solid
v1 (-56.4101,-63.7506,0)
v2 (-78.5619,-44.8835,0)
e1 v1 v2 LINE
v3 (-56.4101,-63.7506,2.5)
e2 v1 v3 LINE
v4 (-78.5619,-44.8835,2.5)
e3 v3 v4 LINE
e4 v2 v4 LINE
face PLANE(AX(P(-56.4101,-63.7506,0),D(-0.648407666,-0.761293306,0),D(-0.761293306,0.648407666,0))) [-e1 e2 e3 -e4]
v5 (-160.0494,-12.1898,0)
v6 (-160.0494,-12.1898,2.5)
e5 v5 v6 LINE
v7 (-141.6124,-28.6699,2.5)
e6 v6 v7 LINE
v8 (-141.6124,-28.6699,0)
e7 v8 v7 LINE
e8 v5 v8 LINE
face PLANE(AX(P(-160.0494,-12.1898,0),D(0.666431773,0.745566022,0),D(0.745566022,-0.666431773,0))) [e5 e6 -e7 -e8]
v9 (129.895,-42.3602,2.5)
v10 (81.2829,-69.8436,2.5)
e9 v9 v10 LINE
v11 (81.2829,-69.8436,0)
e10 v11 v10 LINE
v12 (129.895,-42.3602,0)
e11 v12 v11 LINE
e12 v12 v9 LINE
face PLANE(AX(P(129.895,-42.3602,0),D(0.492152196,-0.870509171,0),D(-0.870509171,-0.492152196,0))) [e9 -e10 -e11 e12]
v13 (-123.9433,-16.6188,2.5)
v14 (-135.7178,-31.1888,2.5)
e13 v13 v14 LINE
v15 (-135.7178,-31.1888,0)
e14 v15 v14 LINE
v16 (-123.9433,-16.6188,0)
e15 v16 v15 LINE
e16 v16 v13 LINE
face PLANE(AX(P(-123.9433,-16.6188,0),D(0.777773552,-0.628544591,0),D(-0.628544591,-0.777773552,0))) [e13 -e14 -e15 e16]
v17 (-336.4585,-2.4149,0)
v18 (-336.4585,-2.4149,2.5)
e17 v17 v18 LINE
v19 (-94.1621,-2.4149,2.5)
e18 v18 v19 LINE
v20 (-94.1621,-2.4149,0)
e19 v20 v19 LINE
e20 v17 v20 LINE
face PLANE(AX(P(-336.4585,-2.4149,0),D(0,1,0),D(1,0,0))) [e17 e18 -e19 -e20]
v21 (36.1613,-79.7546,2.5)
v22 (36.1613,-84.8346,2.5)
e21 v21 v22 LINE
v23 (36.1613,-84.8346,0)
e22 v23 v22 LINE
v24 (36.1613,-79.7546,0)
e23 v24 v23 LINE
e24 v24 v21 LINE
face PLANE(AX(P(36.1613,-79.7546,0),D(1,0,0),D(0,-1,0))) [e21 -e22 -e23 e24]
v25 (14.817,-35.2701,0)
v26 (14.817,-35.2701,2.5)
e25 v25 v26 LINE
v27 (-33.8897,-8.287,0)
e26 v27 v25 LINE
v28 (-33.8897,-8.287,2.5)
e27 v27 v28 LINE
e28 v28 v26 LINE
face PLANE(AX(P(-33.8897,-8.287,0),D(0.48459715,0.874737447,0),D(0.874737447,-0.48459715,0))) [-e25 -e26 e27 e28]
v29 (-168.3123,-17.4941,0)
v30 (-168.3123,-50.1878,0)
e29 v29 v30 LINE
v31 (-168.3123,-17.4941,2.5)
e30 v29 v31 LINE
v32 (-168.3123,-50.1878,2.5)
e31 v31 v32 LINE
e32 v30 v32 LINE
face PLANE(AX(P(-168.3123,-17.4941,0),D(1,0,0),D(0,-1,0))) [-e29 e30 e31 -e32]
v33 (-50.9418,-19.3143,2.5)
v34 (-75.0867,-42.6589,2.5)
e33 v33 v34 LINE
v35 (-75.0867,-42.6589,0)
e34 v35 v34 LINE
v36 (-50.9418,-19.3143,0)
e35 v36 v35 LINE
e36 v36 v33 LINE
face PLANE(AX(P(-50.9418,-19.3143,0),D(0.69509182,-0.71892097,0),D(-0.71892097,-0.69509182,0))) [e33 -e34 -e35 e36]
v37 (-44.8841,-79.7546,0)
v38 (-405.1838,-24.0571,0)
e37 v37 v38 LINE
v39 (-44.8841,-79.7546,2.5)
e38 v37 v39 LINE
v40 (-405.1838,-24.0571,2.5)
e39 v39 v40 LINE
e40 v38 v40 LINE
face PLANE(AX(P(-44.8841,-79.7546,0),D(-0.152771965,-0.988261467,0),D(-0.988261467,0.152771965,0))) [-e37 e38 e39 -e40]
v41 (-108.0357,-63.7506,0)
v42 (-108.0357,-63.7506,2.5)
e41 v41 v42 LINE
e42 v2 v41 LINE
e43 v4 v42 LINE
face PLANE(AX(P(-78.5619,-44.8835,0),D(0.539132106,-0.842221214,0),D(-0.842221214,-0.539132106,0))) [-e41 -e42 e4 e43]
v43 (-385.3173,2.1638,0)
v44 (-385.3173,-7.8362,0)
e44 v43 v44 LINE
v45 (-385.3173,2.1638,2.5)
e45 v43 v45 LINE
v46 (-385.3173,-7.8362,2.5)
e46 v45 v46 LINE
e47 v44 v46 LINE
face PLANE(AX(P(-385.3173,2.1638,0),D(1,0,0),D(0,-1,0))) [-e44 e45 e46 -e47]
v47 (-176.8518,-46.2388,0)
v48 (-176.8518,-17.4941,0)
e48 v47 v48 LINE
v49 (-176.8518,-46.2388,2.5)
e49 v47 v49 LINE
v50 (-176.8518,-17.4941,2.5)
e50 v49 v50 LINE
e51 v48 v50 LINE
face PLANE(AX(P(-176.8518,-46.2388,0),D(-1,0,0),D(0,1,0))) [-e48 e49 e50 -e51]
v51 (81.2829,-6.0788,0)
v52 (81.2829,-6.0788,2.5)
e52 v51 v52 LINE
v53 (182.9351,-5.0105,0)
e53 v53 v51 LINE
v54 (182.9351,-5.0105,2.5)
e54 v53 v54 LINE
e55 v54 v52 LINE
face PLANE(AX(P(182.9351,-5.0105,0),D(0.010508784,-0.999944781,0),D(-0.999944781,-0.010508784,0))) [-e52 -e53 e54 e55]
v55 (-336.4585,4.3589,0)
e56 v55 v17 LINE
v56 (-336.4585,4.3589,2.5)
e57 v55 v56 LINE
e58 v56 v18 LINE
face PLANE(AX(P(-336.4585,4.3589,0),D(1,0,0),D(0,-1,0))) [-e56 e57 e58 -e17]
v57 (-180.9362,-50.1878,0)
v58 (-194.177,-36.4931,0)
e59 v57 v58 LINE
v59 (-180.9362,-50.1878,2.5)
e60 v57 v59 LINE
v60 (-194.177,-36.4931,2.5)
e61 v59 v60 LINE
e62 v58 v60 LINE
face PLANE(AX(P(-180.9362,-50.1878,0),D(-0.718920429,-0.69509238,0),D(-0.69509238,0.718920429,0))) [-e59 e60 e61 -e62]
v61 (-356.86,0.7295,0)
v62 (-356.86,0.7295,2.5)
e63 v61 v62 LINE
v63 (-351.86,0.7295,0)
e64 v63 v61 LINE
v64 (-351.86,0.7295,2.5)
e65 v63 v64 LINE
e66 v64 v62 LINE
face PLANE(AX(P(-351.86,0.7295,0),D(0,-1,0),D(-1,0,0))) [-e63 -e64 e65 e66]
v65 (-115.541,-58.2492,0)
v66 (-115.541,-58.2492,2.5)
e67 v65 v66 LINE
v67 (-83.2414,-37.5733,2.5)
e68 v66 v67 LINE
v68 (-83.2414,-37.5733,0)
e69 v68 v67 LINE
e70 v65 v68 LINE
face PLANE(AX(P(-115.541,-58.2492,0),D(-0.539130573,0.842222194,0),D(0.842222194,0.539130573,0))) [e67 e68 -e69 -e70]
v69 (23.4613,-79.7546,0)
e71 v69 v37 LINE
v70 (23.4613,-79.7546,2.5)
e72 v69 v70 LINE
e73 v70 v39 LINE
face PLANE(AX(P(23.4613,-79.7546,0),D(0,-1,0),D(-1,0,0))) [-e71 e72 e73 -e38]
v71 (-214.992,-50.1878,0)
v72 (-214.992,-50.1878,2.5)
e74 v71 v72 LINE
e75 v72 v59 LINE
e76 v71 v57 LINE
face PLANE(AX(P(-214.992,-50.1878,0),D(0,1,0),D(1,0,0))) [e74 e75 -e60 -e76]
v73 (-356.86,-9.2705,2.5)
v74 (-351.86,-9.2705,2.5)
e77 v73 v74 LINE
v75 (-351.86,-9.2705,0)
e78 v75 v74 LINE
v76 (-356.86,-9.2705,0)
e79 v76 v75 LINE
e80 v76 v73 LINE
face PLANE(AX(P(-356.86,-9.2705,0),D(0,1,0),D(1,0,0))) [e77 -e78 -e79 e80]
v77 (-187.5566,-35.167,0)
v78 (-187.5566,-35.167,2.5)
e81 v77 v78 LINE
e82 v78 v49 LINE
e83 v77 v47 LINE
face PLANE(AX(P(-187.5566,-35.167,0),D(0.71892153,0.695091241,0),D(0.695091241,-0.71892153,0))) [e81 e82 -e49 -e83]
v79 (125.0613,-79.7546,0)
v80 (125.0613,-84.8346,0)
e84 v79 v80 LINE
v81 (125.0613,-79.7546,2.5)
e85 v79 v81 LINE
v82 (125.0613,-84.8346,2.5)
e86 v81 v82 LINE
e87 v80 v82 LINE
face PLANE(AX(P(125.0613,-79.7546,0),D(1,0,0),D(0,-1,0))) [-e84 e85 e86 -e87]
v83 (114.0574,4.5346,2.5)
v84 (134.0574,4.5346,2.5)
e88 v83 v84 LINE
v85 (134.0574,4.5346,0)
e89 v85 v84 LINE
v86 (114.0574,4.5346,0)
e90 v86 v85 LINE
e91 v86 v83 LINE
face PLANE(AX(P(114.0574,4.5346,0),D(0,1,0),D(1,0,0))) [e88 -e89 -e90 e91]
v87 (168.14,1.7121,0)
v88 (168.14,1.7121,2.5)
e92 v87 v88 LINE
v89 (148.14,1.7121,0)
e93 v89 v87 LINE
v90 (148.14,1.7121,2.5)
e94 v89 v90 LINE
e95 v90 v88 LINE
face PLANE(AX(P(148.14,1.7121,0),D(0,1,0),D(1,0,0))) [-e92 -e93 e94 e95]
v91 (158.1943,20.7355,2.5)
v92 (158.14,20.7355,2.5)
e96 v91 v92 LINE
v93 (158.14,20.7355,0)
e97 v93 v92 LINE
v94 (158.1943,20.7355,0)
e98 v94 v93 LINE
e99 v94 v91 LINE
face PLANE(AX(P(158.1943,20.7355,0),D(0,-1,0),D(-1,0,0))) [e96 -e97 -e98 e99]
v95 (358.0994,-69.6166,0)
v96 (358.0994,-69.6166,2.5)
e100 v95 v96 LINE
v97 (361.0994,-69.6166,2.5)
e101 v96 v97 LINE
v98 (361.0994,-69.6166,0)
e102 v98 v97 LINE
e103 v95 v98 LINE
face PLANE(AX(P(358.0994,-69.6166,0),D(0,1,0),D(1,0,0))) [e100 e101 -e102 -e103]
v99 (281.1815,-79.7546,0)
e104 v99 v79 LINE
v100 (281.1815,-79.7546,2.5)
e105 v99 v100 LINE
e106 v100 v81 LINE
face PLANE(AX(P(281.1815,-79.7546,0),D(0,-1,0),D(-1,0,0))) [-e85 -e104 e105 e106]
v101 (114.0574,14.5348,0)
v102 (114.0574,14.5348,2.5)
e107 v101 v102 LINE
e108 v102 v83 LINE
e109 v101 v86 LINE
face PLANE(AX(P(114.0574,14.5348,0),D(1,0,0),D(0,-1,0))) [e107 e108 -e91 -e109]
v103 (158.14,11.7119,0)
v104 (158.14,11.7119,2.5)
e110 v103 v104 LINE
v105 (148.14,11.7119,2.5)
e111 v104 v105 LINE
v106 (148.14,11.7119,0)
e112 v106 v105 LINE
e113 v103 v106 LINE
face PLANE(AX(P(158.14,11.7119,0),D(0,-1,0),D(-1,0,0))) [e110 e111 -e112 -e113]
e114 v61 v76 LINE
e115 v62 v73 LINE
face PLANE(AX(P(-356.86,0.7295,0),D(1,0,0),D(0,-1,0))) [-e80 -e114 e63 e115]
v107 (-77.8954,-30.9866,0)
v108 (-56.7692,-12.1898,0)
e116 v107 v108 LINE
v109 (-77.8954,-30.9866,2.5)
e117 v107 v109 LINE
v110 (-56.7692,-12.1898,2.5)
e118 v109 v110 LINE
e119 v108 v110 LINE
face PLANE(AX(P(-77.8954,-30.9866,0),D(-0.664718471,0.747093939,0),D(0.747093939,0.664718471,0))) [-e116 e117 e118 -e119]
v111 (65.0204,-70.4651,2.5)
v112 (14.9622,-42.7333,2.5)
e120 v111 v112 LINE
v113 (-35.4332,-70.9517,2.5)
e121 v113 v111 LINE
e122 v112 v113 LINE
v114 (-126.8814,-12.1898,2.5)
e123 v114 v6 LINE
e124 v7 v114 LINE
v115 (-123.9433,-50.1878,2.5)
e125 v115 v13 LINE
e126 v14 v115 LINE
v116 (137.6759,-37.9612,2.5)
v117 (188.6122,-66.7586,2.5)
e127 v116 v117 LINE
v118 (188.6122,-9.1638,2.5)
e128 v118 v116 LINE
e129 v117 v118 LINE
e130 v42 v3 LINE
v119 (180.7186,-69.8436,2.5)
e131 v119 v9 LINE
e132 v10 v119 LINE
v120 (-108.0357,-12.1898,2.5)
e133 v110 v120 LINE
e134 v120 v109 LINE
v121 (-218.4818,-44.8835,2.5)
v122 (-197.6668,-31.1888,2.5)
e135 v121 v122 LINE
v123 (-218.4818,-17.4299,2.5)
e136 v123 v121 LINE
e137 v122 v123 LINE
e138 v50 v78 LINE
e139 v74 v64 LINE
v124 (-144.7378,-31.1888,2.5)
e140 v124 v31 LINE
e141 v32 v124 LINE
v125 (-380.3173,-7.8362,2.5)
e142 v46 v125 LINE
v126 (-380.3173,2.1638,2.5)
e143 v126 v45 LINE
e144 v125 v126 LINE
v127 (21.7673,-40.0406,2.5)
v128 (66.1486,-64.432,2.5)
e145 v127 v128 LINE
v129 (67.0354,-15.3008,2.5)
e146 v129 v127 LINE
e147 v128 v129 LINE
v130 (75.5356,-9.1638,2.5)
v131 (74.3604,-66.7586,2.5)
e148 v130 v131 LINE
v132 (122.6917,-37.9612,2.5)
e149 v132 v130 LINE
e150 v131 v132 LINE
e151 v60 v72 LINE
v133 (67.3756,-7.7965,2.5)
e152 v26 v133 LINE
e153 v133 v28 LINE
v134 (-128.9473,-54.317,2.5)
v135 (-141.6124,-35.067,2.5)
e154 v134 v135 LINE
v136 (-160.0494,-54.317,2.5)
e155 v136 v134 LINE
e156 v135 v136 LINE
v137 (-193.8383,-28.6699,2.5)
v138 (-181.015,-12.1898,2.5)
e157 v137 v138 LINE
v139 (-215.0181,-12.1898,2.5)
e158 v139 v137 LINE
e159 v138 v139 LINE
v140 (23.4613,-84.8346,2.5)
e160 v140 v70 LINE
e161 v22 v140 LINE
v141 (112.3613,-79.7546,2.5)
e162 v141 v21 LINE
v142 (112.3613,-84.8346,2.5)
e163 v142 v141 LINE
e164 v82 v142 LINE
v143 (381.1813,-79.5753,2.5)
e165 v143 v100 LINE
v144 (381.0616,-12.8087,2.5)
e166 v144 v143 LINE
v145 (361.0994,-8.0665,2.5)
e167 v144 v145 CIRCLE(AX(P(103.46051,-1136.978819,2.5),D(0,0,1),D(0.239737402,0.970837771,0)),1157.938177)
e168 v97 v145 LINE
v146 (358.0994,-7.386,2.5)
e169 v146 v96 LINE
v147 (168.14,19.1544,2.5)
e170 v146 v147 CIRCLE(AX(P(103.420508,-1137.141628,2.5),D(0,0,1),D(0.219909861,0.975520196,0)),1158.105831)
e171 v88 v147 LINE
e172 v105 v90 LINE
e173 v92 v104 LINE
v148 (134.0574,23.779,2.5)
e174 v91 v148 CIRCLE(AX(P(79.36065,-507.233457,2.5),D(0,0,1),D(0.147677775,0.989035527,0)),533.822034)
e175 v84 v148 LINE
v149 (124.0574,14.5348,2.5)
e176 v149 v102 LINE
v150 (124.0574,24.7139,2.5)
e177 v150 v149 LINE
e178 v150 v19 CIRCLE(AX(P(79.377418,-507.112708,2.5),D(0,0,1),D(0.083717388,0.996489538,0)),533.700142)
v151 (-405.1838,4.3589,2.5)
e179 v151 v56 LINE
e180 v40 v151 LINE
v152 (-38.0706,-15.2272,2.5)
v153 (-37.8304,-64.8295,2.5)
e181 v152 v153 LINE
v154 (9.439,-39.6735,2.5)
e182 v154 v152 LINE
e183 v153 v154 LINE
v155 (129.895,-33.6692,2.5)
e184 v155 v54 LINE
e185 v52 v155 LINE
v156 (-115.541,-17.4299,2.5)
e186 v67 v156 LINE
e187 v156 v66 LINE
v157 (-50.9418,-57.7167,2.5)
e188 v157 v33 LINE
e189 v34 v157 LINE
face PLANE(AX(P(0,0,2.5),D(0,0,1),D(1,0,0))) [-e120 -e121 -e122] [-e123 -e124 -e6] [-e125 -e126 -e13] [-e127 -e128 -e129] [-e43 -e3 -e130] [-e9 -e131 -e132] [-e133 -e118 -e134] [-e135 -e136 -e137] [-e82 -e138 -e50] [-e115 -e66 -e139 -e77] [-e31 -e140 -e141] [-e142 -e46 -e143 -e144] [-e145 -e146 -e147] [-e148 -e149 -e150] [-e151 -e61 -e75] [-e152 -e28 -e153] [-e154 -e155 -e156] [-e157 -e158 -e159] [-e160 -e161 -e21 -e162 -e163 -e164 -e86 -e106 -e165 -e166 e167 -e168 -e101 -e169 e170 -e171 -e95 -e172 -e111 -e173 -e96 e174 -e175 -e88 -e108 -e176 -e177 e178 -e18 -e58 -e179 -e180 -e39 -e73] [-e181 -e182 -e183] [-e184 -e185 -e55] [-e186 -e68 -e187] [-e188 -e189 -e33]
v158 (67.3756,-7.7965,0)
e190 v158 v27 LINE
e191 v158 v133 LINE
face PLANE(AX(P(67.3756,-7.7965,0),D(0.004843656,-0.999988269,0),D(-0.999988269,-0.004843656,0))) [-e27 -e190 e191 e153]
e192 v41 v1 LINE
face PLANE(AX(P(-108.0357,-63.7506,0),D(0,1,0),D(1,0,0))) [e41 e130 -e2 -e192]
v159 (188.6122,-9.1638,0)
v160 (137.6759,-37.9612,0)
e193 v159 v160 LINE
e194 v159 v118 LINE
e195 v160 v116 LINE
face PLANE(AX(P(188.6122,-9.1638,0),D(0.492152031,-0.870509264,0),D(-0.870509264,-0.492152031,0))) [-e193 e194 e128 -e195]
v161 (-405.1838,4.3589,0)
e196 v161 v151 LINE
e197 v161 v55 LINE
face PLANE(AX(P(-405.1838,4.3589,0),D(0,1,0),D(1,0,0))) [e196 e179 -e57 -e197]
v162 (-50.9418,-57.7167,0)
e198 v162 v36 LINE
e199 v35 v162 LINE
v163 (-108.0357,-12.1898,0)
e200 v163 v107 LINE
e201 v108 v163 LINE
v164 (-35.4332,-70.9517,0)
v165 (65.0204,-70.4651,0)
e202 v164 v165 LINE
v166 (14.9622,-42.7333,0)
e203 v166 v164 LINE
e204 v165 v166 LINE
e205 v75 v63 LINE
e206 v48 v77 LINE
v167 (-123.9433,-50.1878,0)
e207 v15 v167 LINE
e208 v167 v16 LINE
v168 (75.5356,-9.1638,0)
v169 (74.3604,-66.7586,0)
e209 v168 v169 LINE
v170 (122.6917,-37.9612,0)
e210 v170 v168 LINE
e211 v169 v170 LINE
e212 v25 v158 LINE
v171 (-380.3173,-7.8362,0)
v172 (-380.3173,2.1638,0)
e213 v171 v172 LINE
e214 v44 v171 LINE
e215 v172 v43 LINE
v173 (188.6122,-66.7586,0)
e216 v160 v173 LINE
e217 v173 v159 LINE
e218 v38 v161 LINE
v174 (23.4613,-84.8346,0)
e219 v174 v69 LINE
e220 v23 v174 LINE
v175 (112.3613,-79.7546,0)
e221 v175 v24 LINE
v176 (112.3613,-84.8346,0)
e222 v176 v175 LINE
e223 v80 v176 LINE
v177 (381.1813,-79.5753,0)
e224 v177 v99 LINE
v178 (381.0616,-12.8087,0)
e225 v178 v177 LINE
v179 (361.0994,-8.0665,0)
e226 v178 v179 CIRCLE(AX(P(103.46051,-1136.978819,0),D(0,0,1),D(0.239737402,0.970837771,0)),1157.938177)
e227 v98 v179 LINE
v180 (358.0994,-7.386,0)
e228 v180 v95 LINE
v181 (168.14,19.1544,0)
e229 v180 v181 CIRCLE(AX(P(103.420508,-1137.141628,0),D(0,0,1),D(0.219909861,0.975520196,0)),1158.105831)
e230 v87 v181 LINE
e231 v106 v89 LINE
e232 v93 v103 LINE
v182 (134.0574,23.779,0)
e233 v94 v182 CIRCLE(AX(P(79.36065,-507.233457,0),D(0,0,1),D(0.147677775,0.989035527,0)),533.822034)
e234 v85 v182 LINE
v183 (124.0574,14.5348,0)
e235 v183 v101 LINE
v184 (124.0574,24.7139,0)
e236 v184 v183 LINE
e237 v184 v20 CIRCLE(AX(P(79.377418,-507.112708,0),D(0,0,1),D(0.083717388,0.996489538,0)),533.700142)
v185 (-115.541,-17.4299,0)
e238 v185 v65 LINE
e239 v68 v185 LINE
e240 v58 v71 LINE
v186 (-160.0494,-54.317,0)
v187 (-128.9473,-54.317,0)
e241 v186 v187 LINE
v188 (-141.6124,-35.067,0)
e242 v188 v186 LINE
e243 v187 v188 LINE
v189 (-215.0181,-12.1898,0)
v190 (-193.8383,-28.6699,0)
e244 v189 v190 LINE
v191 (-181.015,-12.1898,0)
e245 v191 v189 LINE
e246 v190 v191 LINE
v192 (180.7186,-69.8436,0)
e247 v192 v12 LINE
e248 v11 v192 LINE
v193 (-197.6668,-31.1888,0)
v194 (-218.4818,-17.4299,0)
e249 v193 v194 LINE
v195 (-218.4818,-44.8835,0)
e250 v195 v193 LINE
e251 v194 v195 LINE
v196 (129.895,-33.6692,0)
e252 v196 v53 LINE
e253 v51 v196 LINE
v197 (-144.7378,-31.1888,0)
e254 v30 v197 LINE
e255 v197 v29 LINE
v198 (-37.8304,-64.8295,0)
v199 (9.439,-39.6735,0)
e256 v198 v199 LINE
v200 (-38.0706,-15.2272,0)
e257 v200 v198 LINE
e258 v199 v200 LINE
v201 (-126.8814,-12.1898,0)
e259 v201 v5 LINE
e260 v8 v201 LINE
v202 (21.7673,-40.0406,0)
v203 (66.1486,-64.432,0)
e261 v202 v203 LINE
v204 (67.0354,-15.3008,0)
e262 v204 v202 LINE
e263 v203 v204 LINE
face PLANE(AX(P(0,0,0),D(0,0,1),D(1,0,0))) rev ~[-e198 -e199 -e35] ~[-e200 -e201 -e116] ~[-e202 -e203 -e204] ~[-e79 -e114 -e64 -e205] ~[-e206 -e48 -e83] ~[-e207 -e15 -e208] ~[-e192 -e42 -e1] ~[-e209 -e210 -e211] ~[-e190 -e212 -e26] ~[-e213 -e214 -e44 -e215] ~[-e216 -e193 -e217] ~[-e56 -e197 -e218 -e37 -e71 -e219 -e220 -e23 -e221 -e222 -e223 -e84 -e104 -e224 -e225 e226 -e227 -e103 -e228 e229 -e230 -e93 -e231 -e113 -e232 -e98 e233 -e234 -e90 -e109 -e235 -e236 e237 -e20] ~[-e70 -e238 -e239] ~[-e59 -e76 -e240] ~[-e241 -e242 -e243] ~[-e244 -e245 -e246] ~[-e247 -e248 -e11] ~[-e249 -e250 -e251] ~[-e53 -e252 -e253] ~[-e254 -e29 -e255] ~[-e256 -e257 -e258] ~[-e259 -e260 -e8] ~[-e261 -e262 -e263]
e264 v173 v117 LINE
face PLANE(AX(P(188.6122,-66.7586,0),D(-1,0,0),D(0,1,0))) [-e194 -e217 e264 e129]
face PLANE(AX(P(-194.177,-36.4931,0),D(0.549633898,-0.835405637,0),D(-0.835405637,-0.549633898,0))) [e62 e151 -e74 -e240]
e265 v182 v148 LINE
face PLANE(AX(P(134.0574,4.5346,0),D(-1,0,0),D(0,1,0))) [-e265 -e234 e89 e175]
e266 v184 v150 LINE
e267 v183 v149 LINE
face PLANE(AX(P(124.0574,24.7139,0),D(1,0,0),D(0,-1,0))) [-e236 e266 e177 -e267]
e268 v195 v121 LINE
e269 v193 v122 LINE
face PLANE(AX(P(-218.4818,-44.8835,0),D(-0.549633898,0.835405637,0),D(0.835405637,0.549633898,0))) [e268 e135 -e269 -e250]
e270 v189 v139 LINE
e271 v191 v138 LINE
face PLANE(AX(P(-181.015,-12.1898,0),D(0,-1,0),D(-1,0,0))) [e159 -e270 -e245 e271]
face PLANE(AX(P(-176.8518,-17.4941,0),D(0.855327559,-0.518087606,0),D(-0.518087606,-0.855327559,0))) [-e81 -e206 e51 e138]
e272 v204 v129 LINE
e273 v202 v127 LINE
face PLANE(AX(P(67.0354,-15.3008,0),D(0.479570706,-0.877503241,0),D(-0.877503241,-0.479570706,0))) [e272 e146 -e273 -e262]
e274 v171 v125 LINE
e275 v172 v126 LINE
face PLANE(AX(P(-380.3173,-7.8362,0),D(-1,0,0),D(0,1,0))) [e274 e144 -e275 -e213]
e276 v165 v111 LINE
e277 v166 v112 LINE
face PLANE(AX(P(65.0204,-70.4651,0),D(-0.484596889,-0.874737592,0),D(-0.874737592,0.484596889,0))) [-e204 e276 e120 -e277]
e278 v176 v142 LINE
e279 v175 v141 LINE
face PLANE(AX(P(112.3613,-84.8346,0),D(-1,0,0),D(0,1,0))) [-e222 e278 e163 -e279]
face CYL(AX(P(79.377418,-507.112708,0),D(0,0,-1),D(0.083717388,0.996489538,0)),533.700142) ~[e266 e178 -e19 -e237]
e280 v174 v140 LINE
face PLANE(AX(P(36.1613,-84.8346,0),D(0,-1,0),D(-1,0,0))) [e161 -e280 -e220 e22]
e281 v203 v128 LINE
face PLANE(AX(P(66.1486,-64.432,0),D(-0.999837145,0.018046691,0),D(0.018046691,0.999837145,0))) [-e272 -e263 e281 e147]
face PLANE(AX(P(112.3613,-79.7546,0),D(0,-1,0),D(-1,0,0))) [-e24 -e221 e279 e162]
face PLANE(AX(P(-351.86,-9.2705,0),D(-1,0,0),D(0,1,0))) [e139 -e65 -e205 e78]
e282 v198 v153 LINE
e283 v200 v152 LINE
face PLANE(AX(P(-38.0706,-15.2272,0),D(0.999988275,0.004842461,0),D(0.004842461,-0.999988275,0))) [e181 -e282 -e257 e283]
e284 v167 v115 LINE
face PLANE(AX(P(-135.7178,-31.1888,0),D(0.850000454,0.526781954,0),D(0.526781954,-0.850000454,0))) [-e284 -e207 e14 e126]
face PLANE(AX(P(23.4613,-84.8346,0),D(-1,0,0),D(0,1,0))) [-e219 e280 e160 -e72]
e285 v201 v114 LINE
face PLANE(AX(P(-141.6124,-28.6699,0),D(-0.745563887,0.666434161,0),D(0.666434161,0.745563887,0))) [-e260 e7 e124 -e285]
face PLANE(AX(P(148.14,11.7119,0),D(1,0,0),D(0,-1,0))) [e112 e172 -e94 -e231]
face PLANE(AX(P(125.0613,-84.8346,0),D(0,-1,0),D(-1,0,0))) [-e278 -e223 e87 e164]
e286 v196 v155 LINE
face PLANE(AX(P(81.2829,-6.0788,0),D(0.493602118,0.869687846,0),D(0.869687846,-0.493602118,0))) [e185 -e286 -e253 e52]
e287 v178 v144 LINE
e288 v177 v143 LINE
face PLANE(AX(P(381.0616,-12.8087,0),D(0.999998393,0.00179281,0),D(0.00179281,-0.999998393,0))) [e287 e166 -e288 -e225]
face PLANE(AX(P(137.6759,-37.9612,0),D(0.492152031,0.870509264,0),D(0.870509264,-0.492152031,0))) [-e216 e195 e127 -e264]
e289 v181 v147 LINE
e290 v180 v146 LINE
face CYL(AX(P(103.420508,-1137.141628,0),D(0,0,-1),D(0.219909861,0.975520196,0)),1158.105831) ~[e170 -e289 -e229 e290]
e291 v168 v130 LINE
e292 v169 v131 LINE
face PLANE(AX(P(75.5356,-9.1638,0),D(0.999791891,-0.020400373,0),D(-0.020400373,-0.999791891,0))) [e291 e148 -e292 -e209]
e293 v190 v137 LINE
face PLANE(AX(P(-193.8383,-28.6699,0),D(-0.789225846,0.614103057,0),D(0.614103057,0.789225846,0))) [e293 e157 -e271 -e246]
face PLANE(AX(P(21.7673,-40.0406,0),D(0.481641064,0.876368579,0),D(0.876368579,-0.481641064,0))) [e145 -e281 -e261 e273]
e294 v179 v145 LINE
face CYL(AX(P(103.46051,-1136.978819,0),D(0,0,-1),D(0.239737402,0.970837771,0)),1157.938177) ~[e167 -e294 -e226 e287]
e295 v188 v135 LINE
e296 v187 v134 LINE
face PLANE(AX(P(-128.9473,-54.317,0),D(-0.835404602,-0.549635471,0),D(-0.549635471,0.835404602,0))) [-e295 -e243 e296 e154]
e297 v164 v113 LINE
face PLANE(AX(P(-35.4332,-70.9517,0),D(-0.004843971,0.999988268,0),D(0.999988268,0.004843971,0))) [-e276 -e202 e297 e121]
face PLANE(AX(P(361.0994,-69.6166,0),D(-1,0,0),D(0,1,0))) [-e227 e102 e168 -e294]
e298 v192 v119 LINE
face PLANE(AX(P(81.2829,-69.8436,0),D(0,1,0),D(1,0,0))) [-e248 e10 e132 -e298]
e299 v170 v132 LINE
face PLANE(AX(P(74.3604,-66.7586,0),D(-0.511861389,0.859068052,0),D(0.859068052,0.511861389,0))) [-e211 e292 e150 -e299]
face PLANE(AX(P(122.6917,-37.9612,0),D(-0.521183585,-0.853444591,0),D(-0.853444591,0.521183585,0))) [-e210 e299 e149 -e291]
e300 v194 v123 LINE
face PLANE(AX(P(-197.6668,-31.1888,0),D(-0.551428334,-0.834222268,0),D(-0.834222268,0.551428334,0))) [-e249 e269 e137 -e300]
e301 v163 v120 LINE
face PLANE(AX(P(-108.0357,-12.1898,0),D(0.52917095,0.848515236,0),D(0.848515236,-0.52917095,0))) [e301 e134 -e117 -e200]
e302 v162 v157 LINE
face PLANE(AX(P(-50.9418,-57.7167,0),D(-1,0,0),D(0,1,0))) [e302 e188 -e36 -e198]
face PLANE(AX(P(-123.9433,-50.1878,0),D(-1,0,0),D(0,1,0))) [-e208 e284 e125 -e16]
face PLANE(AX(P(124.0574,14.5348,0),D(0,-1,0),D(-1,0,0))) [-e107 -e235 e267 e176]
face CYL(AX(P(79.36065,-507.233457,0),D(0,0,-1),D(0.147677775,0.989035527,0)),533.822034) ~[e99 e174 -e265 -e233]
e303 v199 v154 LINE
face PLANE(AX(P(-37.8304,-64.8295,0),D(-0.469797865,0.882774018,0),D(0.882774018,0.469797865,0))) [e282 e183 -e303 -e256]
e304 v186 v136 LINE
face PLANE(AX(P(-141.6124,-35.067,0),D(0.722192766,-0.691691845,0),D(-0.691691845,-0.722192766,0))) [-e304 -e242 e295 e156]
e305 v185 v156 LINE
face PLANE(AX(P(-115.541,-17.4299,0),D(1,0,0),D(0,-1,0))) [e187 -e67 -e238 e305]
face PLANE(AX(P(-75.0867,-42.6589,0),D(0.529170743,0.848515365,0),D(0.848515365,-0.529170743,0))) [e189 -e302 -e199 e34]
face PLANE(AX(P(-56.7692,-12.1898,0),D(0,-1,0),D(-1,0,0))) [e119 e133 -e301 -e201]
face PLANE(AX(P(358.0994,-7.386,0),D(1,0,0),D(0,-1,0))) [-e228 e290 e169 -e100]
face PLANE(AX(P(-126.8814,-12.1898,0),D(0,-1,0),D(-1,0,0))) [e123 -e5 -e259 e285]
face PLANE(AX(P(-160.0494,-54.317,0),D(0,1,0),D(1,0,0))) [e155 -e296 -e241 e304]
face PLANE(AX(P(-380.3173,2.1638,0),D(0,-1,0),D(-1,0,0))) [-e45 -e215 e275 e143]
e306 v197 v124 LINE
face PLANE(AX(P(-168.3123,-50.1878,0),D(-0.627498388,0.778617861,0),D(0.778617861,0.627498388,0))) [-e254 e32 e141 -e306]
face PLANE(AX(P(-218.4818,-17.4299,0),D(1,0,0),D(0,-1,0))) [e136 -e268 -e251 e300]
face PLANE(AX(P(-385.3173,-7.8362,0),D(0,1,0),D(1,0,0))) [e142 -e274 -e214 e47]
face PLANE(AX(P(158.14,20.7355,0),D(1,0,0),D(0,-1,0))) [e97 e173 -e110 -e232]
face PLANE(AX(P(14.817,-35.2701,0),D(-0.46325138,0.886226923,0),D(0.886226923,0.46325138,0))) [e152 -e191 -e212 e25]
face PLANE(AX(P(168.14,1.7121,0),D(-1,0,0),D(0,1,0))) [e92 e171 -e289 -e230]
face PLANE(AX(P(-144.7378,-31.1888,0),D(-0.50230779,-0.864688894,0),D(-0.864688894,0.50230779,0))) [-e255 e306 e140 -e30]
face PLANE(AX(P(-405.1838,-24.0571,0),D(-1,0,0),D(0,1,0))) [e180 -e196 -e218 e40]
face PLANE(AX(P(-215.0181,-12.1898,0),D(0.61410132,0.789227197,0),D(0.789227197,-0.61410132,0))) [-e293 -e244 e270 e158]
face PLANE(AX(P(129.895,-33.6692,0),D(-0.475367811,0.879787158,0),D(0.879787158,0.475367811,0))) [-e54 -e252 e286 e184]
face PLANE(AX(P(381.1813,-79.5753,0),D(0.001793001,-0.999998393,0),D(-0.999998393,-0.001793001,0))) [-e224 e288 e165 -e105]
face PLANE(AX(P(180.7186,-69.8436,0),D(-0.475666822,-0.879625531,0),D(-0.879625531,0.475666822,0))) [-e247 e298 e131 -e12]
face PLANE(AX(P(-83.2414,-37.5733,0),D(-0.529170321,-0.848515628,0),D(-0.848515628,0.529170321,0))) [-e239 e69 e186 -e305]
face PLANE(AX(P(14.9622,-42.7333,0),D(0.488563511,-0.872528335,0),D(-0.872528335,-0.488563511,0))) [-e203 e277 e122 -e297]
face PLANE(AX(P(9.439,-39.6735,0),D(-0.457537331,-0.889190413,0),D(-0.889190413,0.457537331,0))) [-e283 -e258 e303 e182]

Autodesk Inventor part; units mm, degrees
ref_plane "YZ Plane" through (0, 0, 0) normal (1, 0, 0) x (0, 1, 0)
ref_plane "XZ Plane" through (0, 0, 0) normal (0, 1, 0) x (-1, 0, 0)
ref_plane "XY Plane" through (0, 0, 0) normal (0, 0, 1) x (1, 0, 0)
sketch "Sketch1" plane through (0, 0, 0) normal (0, 0, 1) x (1, 0, 0)
  line L0 (124.0574, 14.5348) -> (114.0574, 14.5348)
  line L1 (114.0574, 14.5348) -> (114.0574, 4.5346)
  line L2 (114.0574, 4.5346) -> (134.0574, 4.5346)
  line L3 (134.0574, 4.5346) -> (134.0574, 23.779)
  arc A0 (158.1943, 20.7355) -> (134.0574, 23.779) centre (79.3774, -507.1118) ccw
  line L4 (158.1943, 20.7355) -> (158.14, 20.7355)
  line L5 (158.14, 20.7355) -> (158.14, 11.7119)
  line L6 (158.14, 11.7119) -> (148.14, 11.7119)
  line L7 (148.14, 11.7119) -> (148.14, 1.7121)
  line L8 (148.14, 1.7121) -> (168.14, 1.7121)
  line L9 (168.14, 1.7121) -> (168.14, 19.1544)
  arc A1 (358.0994, -7.386) -> (168.14, 19.1544) centre (103.4188, -1137.151) ccw
  line L10 (358.0994, -7.386) -> (358.0994, -69.6166)
  line L11 (358.0994, -69.6166) -> (361.0994, -69.6166)
  line L12 (361.0994, -69.6166) -> (361.0994, -8.0665)
  arc A2 (381.0616, -12.8087) -> (361.0994, -8.0665) centre (103.4188, -1137.151) ccw
  line L13 (381.0616, -12.8087) -> (381.1813, -79.5753)
  line L14 (381.1813, -79.5753) -> (281.1815, -79.7546)
  line L15 (281.1815, -79.7546) -> (125.0613, -79.7546)
  line L16 (125.0613, -79.7546) -> (125.0613, -84.8346)
  line L17 (125.0613, -84.8346) -> (112.3613, -84.8346)
  line L18 (112.3613, -84.8346) -> (112.3613, -79.7546)
  line L19 (112.3613, -79.7546) -> (36.1613, -79.7546)
  line L20 (36.1613, -79.7546) -> (36.1613, -84.8346)
  line L21 (36.1613, -84.8346) -> (23.4613, -84.8346)
  line L22 (23.4613, -84.8346) -> (23.4613, -79.7546)
  line L23 (23.4613, -79.7546) -> (-44.8841, -79.7546)
  line L24 (-44.8841, -79.7546) -> (-405.1838, -24.0571)
  line L25 (-405.1838, -24.0571) -> (-405.1838, 4.3589)
  line L26 (-405.1838, 4.3589) -> (-336.4585, 4.3589)
  line L27 (-336.4585, 4.3589) -> (-336.4585, -2.4149)
  line L28 (-336.4585, -2.4149) -> (-94.1621, -2.4149)
  arc A3 (124.0574, 24.7139) -> (-94.1621, -2.4149) centre (79.3774, -507.1118) ccw
  line L29 (124.0574, 24.7139) -> (124.0574, 14.5348)
  line L30 (-197.6668, -31.1888) -> (-218.4818, -17.4299)
  line L31 (-218.4818, -17.4299) -> (-218.4818, -44.8835)
  line L32 (-218.4818, -44.8835) -> (-197.6668, -31.1888)
  line L33 (-215.0181, -12.1898) -> (-193.8383, -28.6699)
  line L34 (-193.8383, -28.6699) -> (-181.015, -12.1898)
  line L35 (-181.015, -12.1898) -> (-215.0181, -12.1898)
  line L36 (-187.5566, -35.167) -> (-176.8518, -46.2388)
  line L37 (-176.8518, -46.2388) -> (-176.8518, -17.4941)
  line L38 (-176.8518, -17.4941) -> (-187.5566, -35.167)
  line L39 (-214.992, -50.1878) -> (-180.9362, -50.1878)
  line L40 (-180.9362, -50.1878) -> (-194.177, -36.4931)
  line L41 (-194.177, -36.4931) -> (-214.992, -50.1878)
  line L42 (-168.3123, -50.1878) -> (-144.7378, -31.1888)
  line L43 (-144.7378, -31.1888) -> (-168.3123, -17.4941)
  line L44 (-168.3123, -17.4941) -> (-168.3123, -50.1878)
  line L45 (-160.0494, -12.1898) -> (-141.6124, -28.6699)
  line L46 (-141.6124, -28.6699) -> (-126.8814, -12.1898)
  line L47 (-126.8814, -12.1898) -> (-160.0494, -12.1898)
  line L48 (-160.0494, -54.317) -> (-128.9473, -54.317)
  line L49 (-128.9473, -54.317) -> (-141.6124, -35.067)
  line L50 (-141.6124, -35.067) -> (-160.0494, -54.317)
  line L51 (-123.9433, -50.1878) -> (-123.9433, -16.6188)
  line L52 (-123.9433, -50.1878) -> (-123.9433, -16.6188)
  line L53 (-123.9433, -16.6188) -> (-135.7178, -31.1888)
  line L54 (-135.7178, -31.1888) -> (-123.9433, -50.1878)
  line L55 (-83.2414, -37.5733) -> (-115.541, -17.4299)
  line L56 (-115.541, -17.4299) -> (-115.541, -58.2492)
  line L57 (-115.541, -58.2492) -> (-83.2414, -37.5733)
  line L58 (-108.0357, -12.1898) -> (-77.8954, -30.9866)
  line L59 (-77.8954, -30.9866) -> (-56.7692, -12.1898)
  line L60 (-56.7692, -12.1898) -> (-108.0357, -12.1898)
  line L61 (-75.0867, -42.6589) -> (-50.9418, -57.7167)
  line L62 (-50.9418, -57.7167) -> (-50.9418, -19.3143)
  line L63 (-50.9418, -19.3143) -> (-75.0867, -42.6589)
  line L64 (-108.0357, -63.7506) -> (-56.4101, -63.7506)
  line L65 (-56.4101, -63.7506) -> (-78.5619, -44.8835)
  line L66 (-78.5619, -44.8835) -> (-108.0357, -63.7506)
  line L67 (-37.8304, -64.8295) -> (9.439, -39.6735)
  line L68 (9.439, -39.6735) -> (-38.0706, -15.2272)
  line L69 (-38.0706, -15.2272) -> (-37.8304, -64.8295)
  line L70 (67.3756, -7.7965) -> (-33.8897, -8.287)
  line L71 (-33.8897, -8.287) -> (14.817, -35.2701)
  line L72 (14.817, -35.2701) -> (67.3756, -7.7965)
  line L73 (67.0354, -15.3008) -> (21.7673, -40.0406)
  line L74 (21.7673, -40.0406) -> (66.1486, -64.432)
  line L75 (66.1486, -64.432) -> (67.0354, -15.3008)
  line L76 (14.9622, -42.7333) -> (-35.4332, -70.9517)
  line L77 (-35.4332, -70.9517) -> (65.0204, -70.4651)
  line L78 (65.0204, -70.4651) -> (14.9622, -42.7333)
  line L79 (122.6917, -37.9612) -> (75.5356, -9.1638)
  line L80 (75.5356, -9.1638) -> (74.3604, -66.7586)
  line L81 (74.3604, -66.7586) -> (122.6917, -37.9612)
  line L82 (182.9351, -5.0105) -> (81.2829, -6.0788)
  line L83 (129.895, -33.6692) -> (182.9351, -5.0105)
  line L84 (182.9351, -5.0105) -> (81.2829, -6.0788)
  line L85 (81.2829, -6.0788) -> (129.895, -33.6692)
  line L86 (188.6122, -66.7586) -> (188.6122, -9.1638)
  line L87 (188.6122, -9.1638) -> (137.6759, -37.9612)
  line L88 (137.6759, -37.9612) -> (188.6122, -66.7586)
  line L89 (180.7186, -69.8436) -> (129.895, -42.3602)
  line L90 (129.895, -42.3602) -> (81.2829, -69.8436)
  line L91 (81.2829, -69.8436) -> (180.7186, -69.8436)
  line L92 (-385.3173, 2.1638) -> (-385.3173, -7.8362)
  line L93 (-385.3173, -7.8362) -> (-380.3173, -7.8362)
  line L94 (-380.3173, -7.8362) -> (-380.3173, 2.1638)
  line L95 (-380.3173, 2.1638) -> (-385.3173, 2.1638)
  line L96 (-356.86, -9.2705) -> (-351.86, -9.2705)
  line L97 (-351.86, -9.2705) -> (-351.86, 0.7295)
  line L98 (-351.86, 0.7295) -> (-356.86, 0.7295)
  line L99 (-356.86, 0.7295) -> (-356.86, -9.2705)
extrude "Extrusion1" add sketch "Sketch1" along normal blind 2.5
sketch "Sketch2" plane through (0, 0, 2.5) normal (0, 0, 1) x (1, 0, 0)
  point P0 (0, 0)
properties part number "final side pannel"
